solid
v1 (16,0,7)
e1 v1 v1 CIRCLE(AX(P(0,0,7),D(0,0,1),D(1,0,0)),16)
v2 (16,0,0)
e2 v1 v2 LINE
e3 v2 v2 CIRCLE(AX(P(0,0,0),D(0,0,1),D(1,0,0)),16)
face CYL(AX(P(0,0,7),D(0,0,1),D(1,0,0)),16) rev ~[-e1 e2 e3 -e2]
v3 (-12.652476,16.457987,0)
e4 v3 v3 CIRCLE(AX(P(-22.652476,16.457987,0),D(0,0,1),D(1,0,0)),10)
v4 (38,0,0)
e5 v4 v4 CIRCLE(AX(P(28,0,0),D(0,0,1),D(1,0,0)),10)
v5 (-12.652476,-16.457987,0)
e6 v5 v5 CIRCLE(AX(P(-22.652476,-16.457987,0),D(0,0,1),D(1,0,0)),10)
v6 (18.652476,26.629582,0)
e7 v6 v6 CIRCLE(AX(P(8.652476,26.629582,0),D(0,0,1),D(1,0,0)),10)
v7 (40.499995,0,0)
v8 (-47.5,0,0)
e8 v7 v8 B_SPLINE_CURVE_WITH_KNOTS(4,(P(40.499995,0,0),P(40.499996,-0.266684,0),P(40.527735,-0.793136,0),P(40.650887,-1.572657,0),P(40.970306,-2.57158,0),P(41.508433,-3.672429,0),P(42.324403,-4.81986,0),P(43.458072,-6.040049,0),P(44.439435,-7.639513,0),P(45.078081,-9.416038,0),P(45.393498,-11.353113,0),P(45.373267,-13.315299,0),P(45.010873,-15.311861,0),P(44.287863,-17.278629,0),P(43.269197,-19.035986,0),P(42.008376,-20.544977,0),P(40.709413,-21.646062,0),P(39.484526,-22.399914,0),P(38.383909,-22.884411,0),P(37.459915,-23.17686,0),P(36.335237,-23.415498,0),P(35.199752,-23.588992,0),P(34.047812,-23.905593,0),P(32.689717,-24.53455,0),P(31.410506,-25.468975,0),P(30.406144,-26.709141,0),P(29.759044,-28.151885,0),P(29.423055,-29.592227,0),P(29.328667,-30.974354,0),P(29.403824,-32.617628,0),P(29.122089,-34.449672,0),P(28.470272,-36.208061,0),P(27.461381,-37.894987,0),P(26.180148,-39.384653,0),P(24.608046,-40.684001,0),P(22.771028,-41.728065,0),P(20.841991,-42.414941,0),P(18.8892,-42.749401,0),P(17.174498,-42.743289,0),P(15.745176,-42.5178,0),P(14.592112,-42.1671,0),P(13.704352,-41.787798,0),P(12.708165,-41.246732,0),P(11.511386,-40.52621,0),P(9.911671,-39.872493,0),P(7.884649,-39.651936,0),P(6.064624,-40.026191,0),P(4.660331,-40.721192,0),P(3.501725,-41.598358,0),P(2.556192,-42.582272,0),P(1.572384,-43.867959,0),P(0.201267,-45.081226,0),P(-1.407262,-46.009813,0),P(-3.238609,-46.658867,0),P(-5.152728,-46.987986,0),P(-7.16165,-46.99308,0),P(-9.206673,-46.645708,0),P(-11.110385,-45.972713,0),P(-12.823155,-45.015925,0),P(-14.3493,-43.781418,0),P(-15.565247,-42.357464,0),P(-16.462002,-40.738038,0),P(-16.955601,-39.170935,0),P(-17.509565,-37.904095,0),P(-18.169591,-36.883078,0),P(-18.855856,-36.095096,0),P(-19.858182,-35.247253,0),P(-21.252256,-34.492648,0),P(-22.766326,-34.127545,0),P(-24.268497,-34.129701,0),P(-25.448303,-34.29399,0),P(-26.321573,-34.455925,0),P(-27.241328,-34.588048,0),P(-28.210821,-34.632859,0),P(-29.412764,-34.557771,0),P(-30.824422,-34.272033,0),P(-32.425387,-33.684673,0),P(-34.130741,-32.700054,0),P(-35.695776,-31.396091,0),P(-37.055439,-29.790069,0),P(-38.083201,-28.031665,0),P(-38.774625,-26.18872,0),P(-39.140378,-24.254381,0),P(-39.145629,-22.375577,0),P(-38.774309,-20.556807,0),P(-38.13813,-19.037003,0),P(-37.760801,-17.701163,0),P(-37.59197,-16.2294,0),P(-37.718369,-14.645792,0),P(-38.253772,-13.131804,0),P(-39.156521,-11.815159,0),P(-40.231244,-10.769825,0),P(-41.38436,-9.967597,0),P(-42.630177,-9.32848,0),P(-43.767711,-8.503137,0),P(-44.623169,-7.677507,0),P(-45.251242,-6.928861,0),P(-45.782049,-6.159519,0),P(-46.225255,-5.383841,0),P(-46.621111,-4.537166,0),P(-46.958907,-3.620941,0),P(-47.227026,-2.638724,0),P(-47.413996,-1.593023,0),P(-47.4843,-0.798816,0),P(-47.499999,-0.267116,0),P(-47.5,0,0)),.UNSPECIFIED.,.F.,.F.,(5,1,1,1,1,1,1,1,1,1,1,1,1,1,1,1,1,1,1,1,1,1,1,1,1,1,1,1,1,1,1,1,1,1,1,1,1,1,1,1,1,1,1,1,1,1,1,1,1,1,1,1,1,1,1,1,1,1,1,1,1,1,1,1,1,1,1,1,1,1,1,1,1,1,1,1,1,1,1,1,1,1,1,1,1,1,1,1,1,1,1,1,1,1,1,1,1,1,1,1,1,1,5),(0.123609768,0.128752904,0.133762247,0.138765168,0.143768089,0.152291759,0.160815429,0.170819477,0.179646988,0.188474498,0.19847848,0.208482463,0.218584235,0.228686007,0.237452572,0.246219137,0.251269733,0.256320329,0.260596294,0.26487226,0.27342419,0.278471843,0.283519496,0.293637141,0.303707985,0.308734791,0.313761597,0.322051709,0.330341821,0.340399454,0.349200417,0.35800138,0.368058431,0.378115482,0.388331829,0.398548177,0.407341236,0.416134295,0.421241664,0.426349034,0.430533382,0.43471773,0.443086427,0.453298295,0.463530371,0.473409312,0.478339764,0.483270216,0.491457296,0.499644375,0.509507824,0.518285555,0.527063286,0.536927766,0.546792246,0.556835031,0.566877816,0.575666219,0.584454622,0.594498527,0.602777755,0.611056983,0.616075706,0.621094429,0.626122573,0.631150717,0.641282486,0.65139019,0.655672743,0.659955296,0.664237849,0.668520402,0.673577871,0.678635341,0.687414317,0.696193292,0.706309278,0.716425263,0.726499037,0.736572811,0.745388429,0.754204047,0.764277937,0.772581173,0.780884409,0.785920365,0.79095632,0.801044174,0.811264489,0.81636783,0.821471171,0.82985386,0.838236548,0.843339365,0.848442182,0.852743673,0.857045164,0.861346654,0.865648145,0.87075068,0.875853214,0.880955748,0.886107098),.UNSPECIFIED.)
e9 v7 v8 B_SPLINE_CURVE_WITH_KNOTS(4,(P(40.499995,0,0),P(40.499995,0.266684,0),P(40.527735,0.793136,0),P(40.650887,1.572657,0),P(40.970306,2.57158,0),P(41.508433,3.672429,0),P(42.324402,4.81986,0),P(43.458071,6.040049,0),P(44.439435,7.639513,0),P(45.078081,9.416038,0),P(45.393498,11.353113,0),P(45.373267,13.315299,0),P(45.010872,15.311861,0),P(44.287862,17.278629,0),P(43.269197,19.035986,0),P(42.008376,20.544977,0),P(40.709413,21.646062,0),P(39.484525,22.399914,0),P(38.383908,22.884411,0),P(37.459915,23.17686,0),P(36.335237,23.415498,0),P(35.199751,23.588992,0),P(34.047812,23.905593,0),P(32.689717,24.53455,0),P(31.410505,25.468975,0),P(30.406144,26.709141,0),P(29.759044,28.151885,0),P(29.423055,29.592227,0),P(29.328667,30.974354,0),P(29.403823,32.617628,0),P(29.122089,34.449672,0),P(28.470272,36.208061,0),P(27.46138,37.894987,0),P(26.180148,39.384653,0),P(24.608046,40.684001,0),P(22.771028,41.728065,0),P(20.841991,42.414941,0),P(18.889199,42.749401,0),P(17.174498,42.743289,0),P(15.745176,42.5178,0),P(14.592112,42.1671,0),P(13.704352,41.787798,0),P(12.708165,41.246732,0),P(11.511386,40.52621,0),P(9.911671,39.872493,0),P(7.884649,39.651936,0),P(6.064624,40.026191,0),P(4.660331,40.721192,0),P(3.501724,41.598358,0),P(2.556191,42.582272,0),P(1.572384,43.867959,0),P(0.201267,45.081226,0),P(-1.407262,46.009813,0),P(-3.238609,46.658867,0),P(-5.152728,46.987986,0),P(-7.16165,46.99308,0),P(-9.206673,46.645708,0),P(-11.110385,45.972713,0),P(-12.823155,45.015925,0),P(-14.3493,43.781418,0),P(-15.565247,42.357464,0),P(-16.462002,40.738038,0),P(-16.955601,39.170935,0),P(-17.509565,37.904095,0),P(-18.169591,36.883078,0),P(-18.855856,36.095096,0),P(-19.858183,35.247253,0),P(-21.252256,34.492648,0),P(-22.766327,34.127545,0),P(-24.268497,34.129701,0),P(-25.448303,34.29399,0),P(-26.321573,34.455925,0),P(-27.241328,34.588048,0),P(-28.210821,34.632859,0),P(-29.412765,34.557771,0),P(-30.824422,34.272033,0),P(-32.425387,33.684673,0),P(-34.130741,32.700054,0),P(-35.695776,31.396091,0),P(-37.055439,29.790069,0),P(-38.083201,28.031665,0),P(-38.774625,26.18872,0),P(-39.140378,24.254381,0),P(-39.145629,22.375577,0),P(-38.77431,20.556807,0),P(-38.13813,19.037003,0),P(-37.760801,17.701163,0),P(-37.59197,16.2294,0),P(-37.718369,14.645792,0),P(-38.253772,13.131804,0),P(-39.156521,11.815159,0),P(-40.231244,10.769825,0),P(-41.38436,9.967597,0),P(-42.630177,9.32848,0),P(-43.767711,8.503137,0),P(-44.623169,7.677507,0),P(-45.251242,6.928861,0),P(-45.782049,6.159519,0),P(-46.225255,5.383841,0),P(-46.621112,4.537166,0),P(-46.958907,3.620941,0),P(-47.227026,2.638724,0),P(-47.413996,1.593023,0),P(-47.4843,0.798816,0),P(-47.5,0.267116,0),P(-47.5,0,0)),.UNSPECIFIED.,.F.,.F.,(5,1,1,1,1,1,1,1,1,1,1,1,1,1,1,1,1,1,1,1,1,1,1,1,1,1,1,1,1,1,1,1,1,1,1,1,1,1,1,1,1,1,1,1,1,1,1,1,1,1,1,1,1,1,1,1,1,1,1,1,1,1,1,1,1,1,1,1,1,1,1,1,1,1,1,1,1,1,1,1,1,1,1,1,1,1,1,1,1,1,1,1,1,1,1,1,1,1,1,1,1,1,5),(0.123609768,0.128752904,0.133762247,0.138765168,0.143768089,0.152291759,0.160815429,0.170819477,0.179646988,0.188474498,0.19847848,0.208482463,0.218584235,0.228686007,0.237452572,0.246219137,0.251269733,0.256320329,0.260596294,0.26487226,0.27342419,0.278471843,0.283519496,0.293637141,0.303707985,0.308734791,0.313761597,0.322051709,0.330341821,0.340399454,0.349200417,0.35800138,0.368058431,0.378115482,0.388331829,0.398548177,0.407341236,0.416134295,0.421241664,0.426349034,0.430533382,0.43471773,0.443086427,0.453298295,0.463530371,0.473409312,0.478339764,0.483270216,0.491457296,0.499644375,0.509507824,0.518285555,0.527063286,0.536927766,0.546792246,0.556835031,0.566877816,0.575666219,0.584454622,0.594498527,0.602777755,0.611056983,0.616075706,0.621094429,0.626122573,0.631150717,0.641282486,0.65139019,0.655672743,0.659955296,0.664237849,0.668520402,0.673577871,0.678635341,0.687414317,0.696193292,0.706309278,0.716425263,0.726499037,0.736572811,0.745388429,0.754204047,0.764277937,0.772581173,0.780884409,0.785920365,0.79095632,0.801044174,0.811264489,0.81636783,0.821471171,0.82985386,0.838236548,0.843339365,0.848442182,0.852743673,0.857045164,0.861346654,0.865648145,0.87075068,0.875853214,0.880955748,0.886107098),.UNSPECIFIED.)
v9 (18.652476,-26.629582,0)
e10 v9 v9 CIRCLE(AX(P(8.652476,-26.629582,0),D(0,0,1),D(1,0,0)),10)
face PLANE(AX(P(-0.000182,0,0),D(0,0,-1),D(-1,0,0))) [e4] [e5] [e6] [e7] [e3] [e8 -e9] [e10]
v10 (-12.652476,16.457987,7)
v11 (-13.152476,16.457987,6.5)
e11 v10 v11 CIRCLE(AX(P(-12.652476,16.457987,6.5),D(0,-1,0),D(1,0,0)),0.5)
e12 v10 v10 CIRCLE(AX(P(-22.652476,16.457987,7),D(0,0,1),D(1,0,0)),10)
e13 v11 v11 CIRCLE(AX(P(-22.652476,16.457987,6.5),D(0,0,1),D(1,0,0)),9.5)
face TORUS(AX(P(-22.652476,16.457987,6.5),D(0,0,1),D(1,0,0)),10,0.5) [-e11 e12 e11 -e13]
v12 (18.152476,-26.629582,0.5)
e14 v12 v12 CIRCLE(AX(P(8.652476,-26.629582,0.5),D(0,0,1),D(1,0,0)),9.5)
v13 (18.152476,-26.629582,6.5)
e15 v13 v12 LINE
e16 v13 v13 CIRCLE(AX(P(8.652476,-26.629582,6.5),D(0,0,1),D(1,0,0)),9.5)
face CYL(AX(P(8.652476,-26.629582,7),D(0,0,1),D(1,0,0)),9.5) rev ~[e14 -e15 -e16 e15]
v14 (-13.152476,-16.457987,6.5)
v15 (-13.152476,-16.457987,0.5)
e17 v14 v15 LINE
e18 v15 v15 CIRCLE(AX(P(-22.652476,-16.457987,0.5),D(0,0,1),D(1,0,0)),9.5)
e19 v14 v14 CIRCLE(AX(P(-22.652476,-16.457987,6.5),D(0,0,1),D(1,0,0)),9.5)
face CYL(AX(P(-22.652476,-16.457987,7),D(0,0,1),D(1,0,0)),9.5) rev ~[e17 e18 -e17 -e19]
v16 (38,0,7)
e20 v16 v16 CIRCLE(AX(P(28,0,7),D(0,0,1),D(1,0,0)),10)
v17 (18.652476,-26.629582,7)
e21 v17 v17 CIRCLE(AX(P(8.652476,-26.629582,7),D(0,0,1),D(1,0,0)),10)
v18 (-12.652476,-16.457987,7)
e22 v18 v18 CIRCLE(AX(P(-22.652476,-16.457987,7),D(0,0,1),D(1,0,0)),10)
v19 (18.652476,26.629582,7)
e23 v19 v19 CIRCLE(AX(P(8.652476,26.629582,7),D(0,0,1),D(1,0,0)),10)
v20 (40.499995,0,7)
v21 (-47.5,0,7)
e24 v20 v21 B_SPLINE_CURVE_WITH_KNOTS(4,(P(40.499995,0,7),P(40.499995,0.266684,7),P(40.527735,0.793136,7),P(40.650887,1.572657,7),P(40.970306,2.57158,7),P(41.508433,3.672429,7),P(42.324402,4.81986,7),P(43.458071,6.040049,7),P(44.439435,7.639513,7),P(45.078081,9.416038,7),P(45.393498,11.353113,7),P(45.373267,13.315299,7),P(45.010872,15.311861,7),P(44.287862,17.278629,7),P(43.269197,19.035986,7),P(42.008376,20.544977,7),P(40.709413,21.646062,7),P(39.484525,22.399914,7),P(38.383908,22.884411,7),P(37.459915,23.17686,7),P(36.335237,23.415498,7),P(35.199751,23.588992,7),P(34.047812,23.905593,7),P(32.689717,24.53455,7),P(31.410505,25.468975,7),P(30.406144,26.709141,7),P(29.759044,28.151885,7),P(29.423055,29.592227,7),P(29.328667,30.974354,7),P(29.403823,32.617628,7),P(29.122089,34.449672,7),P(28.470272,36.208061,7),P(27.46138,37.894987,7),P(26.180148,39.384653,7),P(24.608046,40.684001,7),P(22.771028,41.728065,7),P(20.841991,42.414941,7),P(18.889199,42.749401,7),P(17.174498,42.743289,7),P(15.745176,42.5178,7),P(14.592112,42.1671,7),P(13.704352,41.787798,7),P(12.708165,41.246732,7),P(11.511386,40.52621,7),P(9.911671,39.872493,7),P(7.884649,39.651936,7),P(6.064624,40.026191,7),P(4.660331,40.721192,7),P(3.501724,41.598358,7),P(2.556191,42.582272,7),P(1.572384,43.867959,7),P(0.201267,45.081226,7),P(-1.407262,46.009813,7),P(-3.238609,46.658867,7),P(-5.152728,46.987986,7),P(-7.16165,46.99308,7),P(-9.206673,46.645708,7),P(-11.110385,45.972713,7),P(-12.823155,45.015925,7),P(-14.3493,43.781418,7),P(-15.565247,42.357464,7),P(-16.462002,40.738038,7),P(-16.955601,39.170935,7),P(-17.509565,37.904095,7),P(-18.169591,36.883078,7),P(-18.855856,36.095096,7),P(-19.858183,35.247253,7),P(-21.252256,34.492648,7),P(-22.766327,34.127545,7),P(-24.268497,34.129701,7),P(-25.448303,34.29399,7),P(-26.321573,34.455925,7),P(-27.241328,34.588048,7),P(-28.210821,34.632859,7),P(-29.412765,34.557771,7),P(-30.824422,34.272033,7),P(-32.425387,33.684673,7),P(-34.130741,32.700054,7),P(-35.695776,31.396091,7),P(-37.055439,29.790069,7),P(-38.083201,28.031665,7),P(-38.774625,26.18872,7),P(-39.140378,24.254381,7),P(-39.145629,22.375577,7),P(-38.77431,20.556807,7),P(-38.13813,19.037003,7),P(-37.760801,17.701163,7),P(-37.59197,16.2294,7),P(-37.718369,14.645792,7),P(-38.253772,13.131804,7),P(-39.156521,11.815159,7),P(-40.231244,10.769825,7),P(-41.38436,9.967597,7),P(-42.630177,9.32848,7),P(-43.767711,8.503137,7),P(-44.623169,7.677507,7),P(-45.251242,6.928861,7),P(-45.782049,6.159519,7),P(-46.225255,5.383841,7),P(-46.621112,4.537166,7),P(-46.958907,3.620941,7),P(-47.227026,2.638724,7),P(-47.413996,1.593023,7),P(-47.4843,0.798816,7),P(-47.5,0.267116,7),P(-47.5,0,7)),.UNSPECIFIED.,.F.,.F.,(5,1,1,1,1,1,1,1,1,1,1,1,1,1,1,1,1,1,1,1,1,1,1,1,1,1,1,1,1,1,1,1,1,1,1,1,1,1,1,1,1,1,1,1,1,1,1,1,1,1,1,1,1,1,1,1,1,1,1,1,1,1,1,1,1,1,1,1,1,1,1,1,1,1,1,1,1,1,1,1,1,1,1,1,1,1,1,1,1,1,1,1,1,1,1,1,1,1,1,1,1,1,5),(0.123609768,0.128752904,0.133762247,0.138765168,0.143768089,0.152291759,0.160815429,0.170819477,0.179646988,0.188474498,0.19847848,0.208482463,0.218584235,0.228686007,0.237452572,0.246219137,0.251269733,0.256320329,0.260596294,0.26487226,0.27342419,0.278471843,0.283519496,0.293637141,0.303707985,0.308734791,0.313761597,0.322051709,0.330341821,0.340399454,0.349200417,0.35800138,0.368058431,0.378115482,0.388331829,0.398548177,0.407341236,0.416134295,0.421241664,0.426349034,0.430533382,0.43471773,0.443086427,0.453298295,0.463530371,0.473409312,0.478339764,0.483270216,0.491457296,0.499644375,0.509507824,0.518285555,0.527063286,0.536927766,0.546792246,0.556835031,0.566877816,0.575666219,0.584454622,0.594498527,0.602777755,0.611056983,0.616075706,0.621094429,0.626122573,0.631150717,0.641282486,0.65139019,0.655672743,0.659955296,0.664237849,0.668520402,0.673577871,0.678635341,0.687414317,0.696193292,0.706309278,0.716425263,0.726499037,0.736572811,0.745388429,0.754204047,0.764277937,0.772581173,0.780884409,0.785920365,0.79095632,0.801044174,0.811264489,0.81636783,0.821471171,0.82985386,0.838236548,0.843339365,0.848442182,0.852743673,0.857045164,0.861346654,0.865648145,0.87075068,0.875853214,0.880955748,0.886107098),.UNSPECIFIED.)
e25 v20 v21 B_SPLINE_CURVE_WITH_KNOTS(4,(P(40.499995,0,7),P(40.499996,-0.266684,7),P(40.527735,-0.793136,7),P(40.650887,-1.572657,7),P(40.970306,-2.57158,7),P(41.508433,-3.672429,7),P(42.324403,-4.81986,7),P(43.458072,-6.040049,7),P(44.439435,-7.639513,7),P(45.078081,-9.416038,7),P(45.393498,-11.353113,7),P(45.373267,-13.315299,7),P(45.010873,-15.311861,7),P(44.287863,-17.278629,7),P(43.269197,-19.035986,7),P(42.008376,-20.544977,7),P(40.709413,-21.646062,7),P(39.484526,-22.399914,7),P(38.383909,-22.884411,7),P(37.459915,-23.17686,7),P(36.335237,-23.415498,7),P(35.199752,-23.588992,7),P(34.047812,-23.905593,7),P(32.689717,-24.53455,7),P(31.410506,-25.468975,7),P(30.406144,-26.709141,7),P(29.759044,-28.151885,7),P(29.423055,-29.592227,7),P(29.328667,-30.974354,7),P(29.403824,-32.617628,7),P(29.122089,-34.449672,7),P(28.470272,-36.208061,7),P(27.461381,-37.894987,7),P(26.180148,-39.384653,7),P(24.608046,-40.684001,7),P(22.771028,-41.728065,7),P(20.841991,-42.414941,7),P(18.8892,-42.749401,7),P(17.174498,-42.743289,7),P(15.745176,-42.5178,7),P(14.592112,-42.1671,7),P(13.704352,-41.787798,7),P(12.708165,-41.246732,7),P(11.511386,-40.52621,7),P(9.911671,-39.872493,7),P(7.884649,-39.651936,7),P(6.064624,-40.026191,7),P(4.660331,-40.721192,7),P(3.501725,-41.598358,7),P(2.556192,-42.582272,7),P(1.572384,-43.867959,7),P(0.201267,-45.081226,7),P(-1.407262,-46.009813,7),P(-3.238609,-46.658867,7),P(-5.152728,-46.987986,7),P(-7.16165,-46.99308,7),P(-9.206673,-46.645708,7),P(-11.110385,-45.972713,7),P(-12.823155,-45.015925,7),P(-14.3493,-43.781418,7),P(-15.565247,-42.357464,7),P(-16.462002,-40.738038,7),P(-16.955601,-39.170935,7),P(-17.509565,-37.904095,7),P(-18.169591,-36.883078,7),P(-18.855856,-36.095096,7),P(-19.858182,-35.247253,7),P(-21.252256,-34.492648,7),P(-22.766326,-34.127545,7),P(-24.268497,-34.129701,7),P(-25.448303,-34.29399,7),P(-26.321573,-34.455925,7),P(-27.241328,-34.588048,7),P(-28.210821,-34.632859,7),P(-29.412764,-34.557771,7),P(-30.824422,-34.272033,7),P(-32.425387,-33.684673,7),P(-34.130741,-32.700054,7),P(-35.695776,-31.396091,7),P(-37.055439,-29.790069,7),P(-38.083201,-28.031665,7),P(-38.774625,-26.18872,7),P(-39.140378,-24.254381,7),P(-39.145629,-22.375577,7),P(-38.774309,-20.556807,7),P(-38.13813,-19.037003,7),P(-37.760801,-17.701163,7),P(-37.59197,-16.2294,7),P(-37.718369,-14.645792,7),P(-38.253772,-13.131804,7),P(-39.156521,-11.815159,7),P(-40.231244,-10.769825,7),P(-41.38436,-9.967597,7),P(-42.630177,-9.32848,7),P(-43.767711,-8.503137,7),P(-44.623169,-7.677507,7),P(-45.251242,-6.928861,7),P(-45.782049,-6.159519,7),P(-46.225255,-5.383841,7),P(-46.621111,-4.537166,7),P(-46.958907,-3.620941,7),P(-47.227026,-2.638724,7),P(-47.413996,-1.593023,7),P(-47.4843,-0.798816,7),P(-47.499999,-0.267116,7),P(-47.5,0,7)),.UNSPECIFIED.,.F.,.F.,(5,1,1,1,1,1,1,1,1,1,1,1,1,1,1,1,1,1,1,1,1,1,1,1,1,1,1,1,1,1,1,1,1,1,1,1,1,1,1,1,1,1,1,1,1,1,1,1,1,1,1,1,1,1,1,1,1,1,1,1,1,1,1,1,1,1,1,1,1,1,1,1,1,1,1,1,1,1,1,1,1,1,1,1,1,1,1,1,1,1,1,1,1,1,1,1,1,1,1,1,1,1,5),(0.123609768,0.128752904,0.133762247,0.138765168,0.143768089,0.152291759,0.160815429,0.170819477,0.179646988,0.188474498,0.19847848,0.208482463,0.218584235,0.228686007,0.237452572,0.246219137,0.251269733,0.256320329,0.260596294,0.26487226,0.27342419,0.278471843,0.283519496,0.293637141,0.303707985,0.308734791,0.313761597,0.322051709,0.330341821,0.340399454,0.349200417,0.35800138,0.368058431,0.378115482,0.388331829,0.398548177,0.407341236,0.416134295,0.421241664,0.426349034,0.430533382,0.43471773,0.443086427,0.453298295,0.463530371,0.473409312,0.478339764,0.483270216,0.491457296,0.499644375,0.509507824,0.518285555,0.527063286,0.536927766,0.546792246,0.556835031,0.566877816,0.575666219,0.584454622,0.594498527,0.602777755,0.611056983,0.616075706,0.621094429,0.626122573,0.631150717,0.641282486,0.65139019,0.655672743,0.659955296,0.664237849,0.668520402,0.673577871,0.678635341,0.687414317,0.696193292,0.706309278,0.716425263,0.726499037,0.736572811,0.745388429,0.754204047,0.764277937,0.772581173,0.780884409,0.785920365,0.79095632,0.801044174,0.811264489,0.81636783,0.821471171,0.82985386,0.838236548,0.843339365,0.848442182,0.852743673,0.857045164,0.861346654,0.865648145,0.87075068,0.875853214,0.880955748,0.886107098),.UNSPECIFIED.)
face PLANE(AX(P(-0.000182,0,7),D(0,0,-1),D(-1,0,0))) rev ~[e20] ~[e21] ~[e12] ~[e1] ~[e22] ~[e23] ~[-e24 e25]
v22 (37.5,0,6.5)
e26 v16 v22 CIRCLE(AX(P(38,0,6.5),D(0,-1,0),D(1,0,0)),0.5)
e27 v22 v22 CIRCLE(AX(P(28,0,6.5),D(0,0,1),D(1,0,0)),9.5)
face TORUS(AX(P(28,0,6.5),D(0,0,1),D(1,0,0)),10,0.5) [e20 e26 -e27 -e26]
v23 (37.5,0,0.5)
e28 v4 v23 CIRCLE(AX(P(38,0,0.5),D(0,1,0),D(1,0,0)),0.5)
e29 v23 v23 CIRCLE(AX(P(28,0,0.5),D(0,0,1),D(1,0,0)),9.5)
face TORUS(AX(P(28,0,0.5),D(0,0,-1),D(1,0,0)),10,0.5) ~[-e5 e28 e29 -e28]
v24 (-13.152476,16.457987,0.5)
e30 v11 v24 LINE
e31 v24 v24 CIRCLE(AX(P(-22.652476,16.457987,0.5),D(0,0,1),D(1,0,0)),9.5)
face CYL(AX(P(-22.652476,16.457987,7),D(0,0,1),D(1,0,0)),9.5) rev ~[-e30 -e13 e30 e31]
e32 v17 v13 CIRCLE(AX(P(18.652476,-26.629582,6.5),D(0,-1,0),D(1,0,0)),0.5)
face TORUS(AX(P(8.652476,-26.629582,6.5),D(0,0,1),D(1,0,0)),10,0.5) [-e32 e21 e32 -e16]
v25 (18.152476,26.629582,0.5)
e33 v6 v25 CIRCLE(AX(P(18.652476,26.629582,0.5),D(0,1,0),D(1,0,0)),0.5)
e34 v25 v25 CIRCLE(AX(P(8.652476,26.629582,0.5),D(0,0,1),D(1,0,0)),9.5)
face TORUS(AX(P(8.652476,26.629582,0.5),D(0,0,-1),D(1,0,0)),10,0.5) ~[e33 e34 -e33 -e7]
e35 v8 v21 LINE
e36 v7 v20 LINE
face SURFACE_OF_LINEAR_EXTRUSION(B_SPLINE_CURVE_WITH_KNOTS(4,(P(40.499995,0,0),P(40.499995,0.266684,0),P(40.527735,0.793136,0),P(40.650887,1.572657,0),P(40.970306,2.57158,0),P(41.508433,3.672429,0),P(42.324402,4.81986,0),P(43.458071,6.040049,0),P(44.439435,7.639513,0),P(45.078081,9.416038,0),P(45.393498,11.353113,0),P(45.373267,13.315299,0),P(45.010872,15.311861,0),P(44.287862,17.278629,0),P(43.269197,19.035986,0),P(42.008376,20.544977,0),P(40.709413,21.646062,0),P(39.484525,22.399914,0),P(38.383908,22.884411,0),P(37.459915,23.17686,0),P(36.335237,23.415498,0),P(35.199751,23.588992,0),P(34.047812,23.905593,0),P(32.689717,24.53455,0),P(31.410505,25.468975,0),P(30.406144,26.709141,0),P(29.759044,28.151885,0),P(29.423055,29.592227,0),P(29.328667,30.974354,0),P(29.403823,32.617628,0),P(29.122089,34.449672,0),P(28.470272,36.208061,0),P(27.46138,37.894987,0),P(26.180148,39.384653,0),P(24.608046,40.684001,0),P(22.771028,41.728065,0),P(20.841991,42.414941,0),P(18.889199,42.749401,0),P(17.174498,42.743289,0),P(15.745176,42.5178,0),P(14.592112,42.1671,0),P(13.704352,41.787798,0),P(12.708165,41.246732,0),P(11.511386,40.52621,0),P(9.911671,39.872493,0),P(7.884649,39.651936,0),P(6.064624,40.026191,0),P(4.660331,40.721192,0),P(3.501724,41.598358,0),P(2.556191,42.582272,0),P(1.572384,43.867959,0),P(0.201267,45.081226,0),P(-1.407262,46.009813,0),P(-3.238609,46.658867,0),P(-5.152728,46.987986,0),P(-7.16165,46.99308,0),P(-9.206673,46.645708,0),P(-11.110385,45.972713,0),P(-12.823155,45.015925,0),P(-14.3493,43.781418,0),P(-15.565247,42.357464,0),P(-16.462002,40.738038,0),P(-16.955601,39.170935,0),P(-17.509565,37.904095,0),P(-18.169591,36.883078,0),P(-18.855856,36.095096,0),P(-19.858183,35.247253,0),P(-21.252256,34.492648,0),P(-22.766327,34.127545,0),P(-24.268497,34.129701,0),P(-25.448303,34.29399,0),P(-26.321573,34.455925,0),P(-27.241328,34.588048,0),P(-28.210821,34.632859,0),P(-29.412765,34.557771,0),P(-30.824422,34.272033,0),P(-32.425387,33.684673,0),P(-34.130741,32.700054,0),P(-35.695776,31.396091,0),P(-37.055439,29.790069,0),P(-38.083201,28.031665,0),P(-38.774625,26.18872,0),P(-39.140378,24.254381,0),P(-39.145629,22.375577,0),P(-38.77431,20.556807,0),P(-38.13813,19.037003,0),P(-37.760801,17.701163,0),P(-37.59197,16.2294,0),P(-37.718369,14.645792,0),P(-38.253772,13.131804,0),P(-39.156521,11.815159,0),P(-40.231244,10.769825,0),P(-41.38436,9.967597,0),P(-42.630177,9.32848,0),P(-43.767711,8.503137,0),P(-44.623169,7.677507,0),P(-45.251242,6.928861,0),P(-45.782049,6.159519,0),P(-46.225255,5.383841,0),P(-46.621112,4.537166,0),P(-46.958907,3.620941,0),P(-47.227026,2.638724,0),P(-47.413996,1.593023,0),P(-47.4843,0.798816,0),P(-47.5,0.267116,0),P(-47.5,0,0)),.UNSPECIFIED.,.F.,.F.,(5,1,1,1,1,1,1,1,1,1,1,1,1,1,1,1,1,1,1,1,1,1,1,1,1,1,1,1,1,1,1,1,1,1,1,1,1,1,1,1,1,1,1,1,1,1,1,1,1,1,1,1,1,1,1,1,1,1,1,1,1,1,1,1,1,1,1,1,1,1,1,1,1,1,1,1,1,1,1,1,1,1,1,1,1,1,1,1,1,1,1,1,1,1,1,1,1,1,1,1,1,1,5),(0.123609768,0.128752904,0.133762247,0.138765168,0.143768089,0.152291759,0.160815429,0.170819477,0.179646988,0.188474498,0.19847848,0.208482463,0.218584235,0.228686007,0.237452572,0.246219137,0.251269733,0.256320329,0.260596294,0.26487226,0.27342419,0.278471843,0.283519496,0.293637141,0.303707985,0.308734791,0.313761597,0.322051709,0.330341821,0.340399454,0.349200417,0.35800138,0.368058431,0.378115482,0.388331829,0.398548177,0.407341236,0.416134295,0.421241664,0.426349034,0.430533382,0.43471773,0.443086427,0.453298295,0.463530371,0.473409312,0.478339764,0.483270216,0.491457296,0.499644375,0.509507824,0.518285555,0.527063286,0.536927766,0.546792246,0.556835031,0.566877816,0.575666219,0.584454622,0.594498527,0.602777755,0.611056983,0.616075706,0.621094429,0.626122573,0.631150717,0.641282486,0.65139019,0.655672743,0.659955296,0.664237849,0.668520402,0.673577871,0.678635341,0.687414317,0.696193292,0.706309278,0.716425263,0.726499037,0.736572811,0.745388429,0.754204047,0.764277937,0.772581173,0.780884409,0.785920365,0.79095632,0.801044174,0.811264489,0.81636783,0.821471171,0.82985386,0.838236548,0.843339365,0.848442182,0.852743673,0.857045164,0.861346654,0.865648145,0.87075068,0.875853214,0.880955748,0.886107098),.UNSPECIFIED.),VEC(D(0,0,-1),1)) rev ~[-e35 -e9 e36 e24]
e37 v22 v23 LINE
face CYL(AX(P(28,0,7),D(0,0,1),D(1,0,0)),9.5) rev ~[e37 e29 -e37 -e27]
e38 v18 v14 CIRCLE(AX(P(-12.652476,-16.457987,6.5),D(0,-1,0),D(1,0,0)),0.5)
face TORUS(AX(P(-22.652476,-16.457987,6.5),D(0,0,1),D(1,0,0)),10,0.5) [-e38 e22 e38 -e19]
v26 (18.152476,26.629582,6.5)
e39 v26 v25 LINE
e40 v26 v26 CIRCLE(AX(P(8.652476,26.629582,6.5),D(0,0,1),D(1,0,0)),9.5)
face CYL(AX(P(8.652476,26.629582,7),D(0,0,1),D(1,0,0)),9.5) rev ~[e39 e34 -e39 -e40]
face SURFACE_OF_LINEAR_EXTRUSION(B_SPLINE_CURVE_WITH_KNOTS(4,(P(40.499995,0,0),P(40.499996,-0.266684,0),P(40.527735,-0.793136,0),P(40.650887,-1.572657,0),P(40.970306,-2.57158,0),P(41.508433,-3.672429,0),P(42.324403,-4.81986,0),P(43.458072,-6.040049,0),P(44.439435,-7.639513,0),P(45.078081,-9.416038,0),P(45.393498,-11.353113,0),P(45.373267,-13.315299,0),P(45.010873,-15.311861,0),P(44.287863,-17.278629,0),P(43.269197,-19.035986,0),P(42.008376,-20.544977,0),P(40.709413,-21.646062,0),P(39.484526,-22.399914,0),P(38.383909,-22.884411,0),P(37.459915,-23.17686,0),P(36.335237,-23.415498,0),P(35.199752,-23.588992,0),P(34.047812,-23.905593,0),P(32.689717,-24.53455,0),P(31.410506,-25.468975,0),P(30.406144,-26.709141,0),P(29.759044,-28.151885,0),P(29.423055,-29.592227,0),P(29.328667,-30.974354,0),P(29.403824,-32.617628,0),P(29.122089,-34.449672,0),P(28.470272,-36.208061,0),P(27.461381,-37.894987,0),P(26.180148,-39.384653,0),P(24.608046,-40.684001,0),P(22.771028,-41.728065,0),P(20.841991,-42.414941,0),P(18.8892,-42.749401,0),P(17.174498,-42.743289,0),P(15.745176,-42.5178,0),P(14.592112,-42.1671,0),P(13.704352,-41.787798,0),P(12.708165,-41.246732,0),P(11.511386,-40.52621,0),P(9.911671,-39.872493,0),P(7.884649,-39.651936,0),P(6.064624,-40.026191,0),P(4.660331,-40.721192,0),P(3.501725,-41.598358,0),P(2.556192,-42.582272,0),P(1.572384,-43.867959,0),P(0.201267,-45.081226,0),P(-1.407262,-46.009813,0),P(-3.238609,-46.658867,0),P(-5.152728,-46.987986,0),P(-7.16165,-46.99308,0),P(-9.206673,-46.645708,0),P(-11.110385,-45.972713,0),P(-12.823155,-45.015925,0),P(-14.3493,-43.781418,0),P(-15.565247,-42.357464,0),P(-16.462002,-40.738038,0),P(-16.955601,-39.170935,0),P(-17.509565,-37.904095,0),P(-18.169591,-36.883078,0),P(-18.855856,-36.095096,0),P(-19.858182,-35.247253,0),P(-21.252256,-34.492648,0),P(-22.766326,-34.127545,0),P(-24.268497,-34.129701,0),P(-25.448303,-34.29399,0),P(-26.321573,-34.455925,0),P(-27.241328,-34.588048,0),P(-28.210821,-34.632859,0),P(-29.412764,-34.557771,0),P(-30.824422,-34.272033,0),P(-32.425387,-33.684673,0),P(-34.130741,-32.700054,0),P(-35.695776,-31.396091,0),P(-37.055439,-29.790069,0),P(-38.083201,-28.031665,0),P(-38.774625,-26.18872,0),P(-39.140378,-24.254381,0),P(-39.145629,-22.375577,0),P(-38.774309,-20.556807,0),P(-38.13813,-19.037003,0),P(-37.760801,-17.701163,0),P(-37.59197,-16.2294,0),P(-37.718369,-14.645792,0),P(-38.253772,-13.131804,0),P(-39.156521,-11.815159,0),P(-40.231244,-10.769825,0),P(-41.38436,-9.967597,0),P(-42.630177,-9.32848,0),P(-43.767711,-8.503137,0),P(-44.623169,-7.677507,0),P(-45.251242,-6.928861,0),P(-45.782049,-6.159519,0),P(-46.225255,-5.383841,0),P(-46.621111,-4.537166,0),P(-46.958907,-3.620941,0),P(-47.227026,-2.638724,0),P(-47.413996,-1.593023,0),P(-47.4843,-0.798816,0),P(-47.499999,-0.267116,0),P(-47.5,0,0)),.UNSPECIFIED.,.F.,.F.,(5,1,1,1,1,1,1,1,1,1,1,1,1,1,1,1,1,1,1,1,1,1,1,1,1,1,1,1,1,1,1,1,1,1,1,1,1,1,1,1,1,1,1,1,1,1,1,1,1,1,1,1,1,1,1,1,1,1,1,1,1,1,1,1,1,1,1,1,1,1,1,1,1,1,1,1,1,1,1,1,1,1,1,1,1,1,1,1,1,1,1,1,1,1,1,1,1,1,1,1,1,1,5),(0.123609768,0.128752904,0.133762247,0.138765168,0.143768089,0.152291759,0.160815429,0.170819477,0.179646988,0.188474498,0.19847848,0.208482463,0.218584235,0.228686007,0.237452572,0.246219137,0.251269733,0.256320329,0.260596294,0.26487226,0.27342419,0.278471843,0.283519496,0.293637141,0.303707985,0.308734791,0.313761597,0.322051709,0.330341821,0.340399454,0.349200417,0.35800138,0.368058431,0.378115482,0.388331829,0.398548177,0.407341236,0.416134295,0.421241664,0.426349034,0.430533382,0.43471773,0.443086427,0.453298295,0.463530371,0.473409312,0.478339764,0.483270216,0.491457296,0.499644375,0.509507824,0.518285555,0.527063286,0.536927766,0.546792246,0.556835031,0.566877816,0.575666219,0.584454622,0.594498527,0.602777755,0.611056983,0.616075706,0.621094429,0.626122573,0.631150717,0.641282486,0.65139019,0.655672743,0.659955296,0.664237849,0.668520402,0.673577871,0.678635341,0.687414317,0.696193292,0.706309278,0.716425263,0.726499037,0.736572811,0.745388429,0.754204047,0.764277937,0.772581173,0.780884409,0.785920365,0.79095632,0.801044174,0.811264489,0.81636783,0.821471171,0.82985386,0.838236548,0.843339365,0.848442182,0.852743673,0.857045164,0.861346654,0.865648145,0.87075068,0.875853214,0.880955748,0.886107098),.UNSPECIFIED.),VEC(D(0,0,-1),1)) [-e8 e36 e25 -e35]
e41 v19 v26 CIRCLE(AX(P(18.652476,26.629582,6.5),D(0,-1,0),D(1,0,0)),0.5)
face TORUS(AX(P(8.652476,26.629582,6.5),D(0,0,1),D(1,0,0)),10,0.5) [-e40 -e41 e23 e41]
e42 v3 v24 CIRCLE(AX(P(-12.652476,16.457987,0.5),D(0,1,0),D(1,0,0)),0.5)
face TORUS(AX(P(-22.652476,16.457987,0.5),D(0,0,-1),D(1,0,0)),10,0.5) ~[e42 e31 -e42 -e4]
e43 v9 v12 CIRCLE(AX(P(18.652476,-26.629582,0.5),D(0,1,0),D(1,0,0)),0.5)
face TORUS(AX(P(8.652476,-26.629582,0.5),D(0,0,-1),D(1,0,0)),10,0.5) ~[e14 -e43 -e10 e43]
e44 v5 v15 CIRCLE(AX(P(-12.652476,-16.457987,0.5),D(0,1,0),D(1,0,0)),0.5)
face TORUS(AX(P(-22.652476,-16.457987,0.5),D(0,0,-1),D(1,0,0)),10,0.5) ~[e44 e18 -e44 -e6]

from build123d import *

# Parameters (mm, degrees)
BOSS_EXTRUDE1_DEPTH = 7
SKETCH8_R           = 16
CUT_EXTRUDE2_DEPTH  = 10
SKETCH9_R           = 9.5
CUT_EXTRUDE3_DEPTH  = 68.161031516
FILLET1_R           = 0.5


with BuildPart() as part:
    # Sketch5 → Boss-Extrude1 (new body)
    with BuildSketch(Plane.XY):
        with BuildLine():
            add(Edge.make_bspline(
                [(40.499994625, 0), (40.499995518, -0.266684294), (40.52773534, -0.793136475), (40.650886985, -1.572657112), (40.970306233, -2.571580135), (41.50843288, -3.672428911), (42.324402574, -4.819860106), (43.45807152, -6.04004912), (44.439435201, -7.639513254), (45.078080786, -9.416038217), (45.393497697, -11.353112816), (45.373267308, -13.315298713), (45.010872606, -15.311861151), (44.287862541, -17.27862875), (43.269196746, -19.035986222), (42.008376262, -20.544976656), (40.709412924, -21.646062492), (39.484525583, -22.399914095), (38.383908571, -22.884411169), (37.459914979, -23.176860002), (36.335237397, -23.415497762), (35.199751532, -23.588991856), (34.047811722, -23.905593042), (32.689716924, -24.53454959), (31.410505611, -25.468974783), (30.406144235, -26.709140712), (29.759043994, -28.151884972), (29.423054708, -29.592227306), (29.328666717, -30.974354074), (29.403823634, -32.61762834), (29.122089041, -34.449671912), (28.470271683, -36.208061299), (27.461380532, -37.894986877), (26.180148297, -39.384652691), (24.608046492, -40.684000928), (22.771027749, -41.728064925), (20.841991388, -42.414940738), (18.889199573, -42.749400756), (17.174498486, -42.743288562), (15.745175661, -42.517800313), (14.59211199, -42.167099695), (13.704352424, -41.787797845), (12.708165445, -41.246731939), (11.511385722, -40.526210265), (9.911671205, -39.872493301), (7.884649371, -39.651936498), (6.064624482, -40.026190835), (4.660331179, -40.721191914), (3.501724508, -41.598357554), (2.556191616, -42.58227236), (1.572383828, -43.867959496), (0.20126702, -45.081226061), (-1.407261739, -46.009812665), (-3.238609197, -46.658866645), (-5.152728016, -46.987986408), (-7.161649892, -46.993080247), (-9.206672972, -46.645708491), (-11.110385347, -45.972712851), (-12.823155082, -45.015924582), (-14.349299901, -43.781417578), (-15.565246835, -42.357464096), (-16.462001763, -40.738038079), (-16.955600959, -39.170934727), (-17.509564742, -37.904094719), (-18.169591031, -36.883077852), (-18.855856157, -36.09509583), (-19.858182479, -35.247252743), (-21.252255505, -34.492647823), (-22.766326497, -34.12754456), (-24.268497138, -34.129701285), (-25.44830334, -34.293990179), (-26.321572919, -34.455924641), (-27.241328175, -34.588048158), (-28.210820898, -34.632858707), (-29.412764481, -34.557770636), (-30.824421879, -34.272032778), (-32.42538719, -33.684673097), (-34.13074136, -32.700054029), (-35.695776217, -31.396091088), (-37.055439146, -29.790068621), (-38.083201208, -28.031664869), (-38.774625213, -26.188719987), (-39.140377513, -24.254381238), (-39.145629105, -22.375576825), (-38.774309432, -20.556807308), (-38.138130209, -19.037003382), (-37.760801159, -17.701163307), (-37.591969731, -16.229400002), (-37.718368555, -14.64579196), (-38.253772019, -13.131804153), (-39.156521127, -11.81515909), (-40.231243544, -10.769825261), (-41.384359808, -9.967597164), (-42.630177336, -9.328479676), (-43.767711357, -8.503136628), (-44.623168554, -7.677506936), (-45.251241992, -6.928861107), (-45.78204856, -6.159518806), (-46.225254838, -5.383840677), (-46.621111426, -4.537166174), (-46.958906853, -3.620940704), (-47.227025794, -2.638724202), (-47.413996056, -1.593023166), (-47.484300128, -0.798816017), (-47.499999364, -0.267115997), (-47.499999717, 0)],
                knots=[0.123609768, 0.123609768, 0.123609768, 0.123609768, 0.123609768, 0.128752904, 0.133762247, 0.138765168, 0.143768089, 0.152291759, 0.160815429, 0.170819477, 0.179646988, 0.188474498, 0.19847848, 0.208482463, 0.218584235, 0.228686007, 0.237452572, 0.246219137, 0.251269733, 0.256320329, 0.260596294, 0.26487226, 0.27342419, 0.278471843, 0.283519496, 0.293637141, 0.303707985, 0.308734791, 0.313761597, 0.322051709, 0.330341821, 0.340399454, 0.349200417, 0.35800138, 0.368058431, 0.378115482, 0.388331829, 0.398548177, 0.407341236, 0.416134295, 0.421241664, 0.426349034, 0.430533382, 0.43471773, 0.443086427, 0.453298295, 0.463530371, 0.473409312, 0.478339764, 0.483270216, 0.491457296, 0.499644375, 0.509507824, 0.518285555, 0.527063286, 0.536927766, 0.546792246, 0.556835031, 0.566877816, 0.575666219, 0.584454622, 0.594498527, 0.602777755, 0.611056983, 0.616075706, 0.621094429, 0.626122573, 0.631150717, 0.641282486, 0.65139019, 0.655672743, 0.659955296, 0.664237849, 0.668520402, 0.673577871, 0.678635341, 0.687414317, 0.696193292, 0.706309278, 0.716425263, 0.726499037, 0.736572811, 0.745388429, 0.754204047, 0.764277937, 0.772581173, 0.780884409, 0.785920365, 0.79095632, 0.801044174, 0.811264489, 0.81636783, 0.821471171, 0.82985386, 0.838236548, 0.843339365, 0.848442182, 0.852743673, 0.857045164, 0.861346654, 0.865648145, 0.87075068, 0.875853214, 0.880955748, 0.886107098, 0.886107098, 0.886107098, 0.886107098, 0.886107098], degree=4))
            add(Edge.make_bspline(
                [(40.499994625, 0), (40.499995383, 0.266684294), (40.527735205, 0.793136475), (40.65088685, 1.572657112), (40.970306098, 2.571580135), (41.508432745, 3.672428911), (42.324402439, 4.819860106), (43.458071385, 6.04004912), (44.439435066, 7.639513254), (45.078080651, 9.416038217), (45.393497562, 11.353112816), (45.373267172, 13.315298713), (45.010872471, 15.311861151), (44.287862406, 17.27862875), (43.26919661, 19.035986222), (42.008376127, 20.544976656), (40.709412789, 21.646062492), (39.484525448, 22.399914095), (38.383908435, 22.884411169), (37.459914843, 23.176860002), (36.335237262, 23.415497762), (35.199751396, 23.588991856), (34.047811587, 23.905593042), (32.689716788, 24.53454959), (31.410505476, 25.468974783), (30.4061441, 26.709140712), (29.759043858, 28.151884972), (29.423054572, 29.592227306), (29.328666582, 30.974354074), (29.403823499, 32.61762834), (29.122088905, 34.449671912), (28.470271548, 36.208061299), (27.461380396, 37.894986877), (26.180148162, 39.384652691), (24.608046356, 40.684000928), (22.771027613, 41.728064925), (20.841991252, 42.414940738), (18.889199438, 42.749400756), (17.174498351, 42.743288562), (15.745175526, 42.517800313), (14.592111855, 42.167099695), (13.704352289, 41.787797845), (12.70816531, 41.246731939), (11.511385586, 40.526210265), (9.91167107, 39.8724933), (7.884649236, 39.651936498), (6.064624347, 40.026190835), (4.660331044, 40.721191914), (3.501724373, 41.598357554), (2.55619148, 42.58227236), (1.572383693, 43.867959496), (0.201266885, 45.081226061), (-1.407261874, 46.009812665), (-3.238609333, 46.658866645), (-5.152728151, 46.987986408), (-7.161650028, 46.993080247), (-9.206673107, 46.645708491), (-11.110385482, 45.972712851), (-12.823155217, 45.015924582), (-14.349300037, 43.781417578), (-15.565246971, 42.357464096), (-16.462001898, 40.738038079), (-16.955601095, 39.170934727), (-17.509564877, 37.904094719), (-18.169591166, 36.883077852), (-18.855856293, 36.09509583), (-19.858182614, 35.247252743), (-21.25225564, 34.492647823), (-22.766326633, 34.12754456), (-24.268497273, 34.129701285), (-25.448303476, 34.293990179), (-26.321573054, 34.455924641), (-27.241328311, 34.588048158), (-28.210821034, 34.632858707), (-29.412764616, 34.557770636), (-30.824422014, 34.272032778), (-32.425387325, 33.684673097), (-34.130741495, 32.700054029), (-35.695776352, 31.396091088), (-37.055439281, 29.790068621), (-38.083201344, 28.031664869), (-38.774625349, 26.188719987), (-39.140377649, 24.254381238), (-39.145629241, 22.375576825), (-38.774309567, 20.556807308), (-38.138130344, 19.037003381), (-37.760801295, 17.701163307), (-37.591969866, 16.229400002), (-37.71836869, 14.64579196), (-38.253772154, 13.131804153), (-39.156521262, 11.81515909), (-40.23124368, 10.769825261), (-41.384359943, 9.967597164), (-42.630177472, 9.328479676), (-43.767711492, 8.503136627), (-44.62316869, 7.677506936), (-45.251242128, 6.928861107), (-45.782048696, 6.159518806), (-46.225254973, 5.383840677), (-46.621111561, 4.537166174), (-46.958906989, 3.620940704), (-47.227025929, 2.638724202), (-47.413996191, 1.593023166), (-47.484300263, 0.798816017), (-47.4999995, 0.267115997), (-47.499999717, 0)],
                knots=[0.123609768, 0.123609768, 0.123609768, 0.123609768, 0.123609768, 0.128752904, 0.133762247, 0.138765168, 0.143768089, 0.152291759, 0.160815429, 0.170819477, 0.179646988, 0.188474498, 0.19847848, 0.208482463, 0.218584235, 0.228686007, 0.237452572, 0.246219137, 0.251269733, 0.256320329, 0.260596294, 0.26487226, 0.27342419, 0.278471843, 0.283519496, 0.293637141, 0.303707985, 0.308734791, 0.313761597, 0.322051709, 0.330341821, 0.340399454, 0.349200417, 0.35800138, 0.368058431, 0.378115482, 0.388331829, 0.398548177, 0.407341236, 0.416134295, 0.421241664, 0.426349034, 0.430533382, 0.43471773, 0.443086427, 0.453298295, 0.463530371, 0.473409312, 0.478339764, 0.483270216, 0.491457296, 0.499644375, 0.509507824, 0.518285555, 0.527063286, 0.536927766, 0.546792246, 0.556835031, 0.566877816, 0.575666219, 0.584454622, 0.594498527, 0.602777755, 0.611056983, 0.616075706, 0.621094429, 0.626122573, 0.631150717, 0.641282486, 0.65139019, 0.655672743, 0.659955296, 0.664237849, 0.668520402, 0.673577871, 0.678635341, 0.687414317, 0.696193292, 0.706309278, 0.716425263, 0.726499037, 0.736572811, 0.745388429, 0.754204047, 0.764277937, 0.772581173, 0.780884409, 0.785920365, 0.79095632, 0.801044174, 0.811264489, 0.81636783, 0.821471171, 0.82985386, 0.838236548, 0.843339365, 0.848442182, 0.852743673, 0.857045164, 0.861346654, 0.865648145, 0.87075068, 0.875853214, 0.880955748, 0.886107098, 0.886107098, 0.886107098, 0.886107098, 0.886107098], degree=4))
        make_face()
    extrude(amount=BOSS_EXTRUDE1_DEPTH)

    # Sketch8 → Cut-Extrude2 (cut)
    with BuildSketch(Plane.XY.offset(7)):
        Circle(SKETCH8_R)
    extrude(amount=-CUT_EXTRUDE2_DEPTH, mode=Mode.SUBTRACT)

    # Sketch9 → Cut-Extrude3 (cut, through all)
    with BuildSketch(Plane.XY.offset(7)):
        with Locations((-22.652475842, -16.457987064)):
            Circle(SKETCH9_R)
        with Locations((-22.652475842, 16.457987064)):
            Circle(SKETCH9_R)
        with Locations((8.652475842, 26.629582456)):
            Circle(SKETCH9_R)
        with Locations((28, 0)):
            Circle(SKETCH9_R)
        with Locations((8.652475842, -26.629582456)):
            Circle(SKETCH9_R)
    extrude(amount=-CUT_EXTRUDE3_DEPTH, mode=Mode.SUBTRACT)

    # Fillet1
    fillet1_edges = [part.edges().sort_by_distance(p)[0] for p in [
        (-32.152475842, 16.457987064, 0),
        (-32.152475842, 16.457987064, 7),
        (-0.847524158, 26.629582456, 0),
        (-0.847524158, 26.629582456, 7),
        (18.5, 0, 0),
        (18.5, 0, 7),
        (-0.847524158, -26.629582456, 0),
        (-0.847524158, -26.629582456, 7),
        (-32.152475842, -16.457987064, 0),
        (-32.152475842, -16.457987064, 7),
    ]]
    fillet(fillet1_edges, radius=FILLET1_R)


solid = part.part
